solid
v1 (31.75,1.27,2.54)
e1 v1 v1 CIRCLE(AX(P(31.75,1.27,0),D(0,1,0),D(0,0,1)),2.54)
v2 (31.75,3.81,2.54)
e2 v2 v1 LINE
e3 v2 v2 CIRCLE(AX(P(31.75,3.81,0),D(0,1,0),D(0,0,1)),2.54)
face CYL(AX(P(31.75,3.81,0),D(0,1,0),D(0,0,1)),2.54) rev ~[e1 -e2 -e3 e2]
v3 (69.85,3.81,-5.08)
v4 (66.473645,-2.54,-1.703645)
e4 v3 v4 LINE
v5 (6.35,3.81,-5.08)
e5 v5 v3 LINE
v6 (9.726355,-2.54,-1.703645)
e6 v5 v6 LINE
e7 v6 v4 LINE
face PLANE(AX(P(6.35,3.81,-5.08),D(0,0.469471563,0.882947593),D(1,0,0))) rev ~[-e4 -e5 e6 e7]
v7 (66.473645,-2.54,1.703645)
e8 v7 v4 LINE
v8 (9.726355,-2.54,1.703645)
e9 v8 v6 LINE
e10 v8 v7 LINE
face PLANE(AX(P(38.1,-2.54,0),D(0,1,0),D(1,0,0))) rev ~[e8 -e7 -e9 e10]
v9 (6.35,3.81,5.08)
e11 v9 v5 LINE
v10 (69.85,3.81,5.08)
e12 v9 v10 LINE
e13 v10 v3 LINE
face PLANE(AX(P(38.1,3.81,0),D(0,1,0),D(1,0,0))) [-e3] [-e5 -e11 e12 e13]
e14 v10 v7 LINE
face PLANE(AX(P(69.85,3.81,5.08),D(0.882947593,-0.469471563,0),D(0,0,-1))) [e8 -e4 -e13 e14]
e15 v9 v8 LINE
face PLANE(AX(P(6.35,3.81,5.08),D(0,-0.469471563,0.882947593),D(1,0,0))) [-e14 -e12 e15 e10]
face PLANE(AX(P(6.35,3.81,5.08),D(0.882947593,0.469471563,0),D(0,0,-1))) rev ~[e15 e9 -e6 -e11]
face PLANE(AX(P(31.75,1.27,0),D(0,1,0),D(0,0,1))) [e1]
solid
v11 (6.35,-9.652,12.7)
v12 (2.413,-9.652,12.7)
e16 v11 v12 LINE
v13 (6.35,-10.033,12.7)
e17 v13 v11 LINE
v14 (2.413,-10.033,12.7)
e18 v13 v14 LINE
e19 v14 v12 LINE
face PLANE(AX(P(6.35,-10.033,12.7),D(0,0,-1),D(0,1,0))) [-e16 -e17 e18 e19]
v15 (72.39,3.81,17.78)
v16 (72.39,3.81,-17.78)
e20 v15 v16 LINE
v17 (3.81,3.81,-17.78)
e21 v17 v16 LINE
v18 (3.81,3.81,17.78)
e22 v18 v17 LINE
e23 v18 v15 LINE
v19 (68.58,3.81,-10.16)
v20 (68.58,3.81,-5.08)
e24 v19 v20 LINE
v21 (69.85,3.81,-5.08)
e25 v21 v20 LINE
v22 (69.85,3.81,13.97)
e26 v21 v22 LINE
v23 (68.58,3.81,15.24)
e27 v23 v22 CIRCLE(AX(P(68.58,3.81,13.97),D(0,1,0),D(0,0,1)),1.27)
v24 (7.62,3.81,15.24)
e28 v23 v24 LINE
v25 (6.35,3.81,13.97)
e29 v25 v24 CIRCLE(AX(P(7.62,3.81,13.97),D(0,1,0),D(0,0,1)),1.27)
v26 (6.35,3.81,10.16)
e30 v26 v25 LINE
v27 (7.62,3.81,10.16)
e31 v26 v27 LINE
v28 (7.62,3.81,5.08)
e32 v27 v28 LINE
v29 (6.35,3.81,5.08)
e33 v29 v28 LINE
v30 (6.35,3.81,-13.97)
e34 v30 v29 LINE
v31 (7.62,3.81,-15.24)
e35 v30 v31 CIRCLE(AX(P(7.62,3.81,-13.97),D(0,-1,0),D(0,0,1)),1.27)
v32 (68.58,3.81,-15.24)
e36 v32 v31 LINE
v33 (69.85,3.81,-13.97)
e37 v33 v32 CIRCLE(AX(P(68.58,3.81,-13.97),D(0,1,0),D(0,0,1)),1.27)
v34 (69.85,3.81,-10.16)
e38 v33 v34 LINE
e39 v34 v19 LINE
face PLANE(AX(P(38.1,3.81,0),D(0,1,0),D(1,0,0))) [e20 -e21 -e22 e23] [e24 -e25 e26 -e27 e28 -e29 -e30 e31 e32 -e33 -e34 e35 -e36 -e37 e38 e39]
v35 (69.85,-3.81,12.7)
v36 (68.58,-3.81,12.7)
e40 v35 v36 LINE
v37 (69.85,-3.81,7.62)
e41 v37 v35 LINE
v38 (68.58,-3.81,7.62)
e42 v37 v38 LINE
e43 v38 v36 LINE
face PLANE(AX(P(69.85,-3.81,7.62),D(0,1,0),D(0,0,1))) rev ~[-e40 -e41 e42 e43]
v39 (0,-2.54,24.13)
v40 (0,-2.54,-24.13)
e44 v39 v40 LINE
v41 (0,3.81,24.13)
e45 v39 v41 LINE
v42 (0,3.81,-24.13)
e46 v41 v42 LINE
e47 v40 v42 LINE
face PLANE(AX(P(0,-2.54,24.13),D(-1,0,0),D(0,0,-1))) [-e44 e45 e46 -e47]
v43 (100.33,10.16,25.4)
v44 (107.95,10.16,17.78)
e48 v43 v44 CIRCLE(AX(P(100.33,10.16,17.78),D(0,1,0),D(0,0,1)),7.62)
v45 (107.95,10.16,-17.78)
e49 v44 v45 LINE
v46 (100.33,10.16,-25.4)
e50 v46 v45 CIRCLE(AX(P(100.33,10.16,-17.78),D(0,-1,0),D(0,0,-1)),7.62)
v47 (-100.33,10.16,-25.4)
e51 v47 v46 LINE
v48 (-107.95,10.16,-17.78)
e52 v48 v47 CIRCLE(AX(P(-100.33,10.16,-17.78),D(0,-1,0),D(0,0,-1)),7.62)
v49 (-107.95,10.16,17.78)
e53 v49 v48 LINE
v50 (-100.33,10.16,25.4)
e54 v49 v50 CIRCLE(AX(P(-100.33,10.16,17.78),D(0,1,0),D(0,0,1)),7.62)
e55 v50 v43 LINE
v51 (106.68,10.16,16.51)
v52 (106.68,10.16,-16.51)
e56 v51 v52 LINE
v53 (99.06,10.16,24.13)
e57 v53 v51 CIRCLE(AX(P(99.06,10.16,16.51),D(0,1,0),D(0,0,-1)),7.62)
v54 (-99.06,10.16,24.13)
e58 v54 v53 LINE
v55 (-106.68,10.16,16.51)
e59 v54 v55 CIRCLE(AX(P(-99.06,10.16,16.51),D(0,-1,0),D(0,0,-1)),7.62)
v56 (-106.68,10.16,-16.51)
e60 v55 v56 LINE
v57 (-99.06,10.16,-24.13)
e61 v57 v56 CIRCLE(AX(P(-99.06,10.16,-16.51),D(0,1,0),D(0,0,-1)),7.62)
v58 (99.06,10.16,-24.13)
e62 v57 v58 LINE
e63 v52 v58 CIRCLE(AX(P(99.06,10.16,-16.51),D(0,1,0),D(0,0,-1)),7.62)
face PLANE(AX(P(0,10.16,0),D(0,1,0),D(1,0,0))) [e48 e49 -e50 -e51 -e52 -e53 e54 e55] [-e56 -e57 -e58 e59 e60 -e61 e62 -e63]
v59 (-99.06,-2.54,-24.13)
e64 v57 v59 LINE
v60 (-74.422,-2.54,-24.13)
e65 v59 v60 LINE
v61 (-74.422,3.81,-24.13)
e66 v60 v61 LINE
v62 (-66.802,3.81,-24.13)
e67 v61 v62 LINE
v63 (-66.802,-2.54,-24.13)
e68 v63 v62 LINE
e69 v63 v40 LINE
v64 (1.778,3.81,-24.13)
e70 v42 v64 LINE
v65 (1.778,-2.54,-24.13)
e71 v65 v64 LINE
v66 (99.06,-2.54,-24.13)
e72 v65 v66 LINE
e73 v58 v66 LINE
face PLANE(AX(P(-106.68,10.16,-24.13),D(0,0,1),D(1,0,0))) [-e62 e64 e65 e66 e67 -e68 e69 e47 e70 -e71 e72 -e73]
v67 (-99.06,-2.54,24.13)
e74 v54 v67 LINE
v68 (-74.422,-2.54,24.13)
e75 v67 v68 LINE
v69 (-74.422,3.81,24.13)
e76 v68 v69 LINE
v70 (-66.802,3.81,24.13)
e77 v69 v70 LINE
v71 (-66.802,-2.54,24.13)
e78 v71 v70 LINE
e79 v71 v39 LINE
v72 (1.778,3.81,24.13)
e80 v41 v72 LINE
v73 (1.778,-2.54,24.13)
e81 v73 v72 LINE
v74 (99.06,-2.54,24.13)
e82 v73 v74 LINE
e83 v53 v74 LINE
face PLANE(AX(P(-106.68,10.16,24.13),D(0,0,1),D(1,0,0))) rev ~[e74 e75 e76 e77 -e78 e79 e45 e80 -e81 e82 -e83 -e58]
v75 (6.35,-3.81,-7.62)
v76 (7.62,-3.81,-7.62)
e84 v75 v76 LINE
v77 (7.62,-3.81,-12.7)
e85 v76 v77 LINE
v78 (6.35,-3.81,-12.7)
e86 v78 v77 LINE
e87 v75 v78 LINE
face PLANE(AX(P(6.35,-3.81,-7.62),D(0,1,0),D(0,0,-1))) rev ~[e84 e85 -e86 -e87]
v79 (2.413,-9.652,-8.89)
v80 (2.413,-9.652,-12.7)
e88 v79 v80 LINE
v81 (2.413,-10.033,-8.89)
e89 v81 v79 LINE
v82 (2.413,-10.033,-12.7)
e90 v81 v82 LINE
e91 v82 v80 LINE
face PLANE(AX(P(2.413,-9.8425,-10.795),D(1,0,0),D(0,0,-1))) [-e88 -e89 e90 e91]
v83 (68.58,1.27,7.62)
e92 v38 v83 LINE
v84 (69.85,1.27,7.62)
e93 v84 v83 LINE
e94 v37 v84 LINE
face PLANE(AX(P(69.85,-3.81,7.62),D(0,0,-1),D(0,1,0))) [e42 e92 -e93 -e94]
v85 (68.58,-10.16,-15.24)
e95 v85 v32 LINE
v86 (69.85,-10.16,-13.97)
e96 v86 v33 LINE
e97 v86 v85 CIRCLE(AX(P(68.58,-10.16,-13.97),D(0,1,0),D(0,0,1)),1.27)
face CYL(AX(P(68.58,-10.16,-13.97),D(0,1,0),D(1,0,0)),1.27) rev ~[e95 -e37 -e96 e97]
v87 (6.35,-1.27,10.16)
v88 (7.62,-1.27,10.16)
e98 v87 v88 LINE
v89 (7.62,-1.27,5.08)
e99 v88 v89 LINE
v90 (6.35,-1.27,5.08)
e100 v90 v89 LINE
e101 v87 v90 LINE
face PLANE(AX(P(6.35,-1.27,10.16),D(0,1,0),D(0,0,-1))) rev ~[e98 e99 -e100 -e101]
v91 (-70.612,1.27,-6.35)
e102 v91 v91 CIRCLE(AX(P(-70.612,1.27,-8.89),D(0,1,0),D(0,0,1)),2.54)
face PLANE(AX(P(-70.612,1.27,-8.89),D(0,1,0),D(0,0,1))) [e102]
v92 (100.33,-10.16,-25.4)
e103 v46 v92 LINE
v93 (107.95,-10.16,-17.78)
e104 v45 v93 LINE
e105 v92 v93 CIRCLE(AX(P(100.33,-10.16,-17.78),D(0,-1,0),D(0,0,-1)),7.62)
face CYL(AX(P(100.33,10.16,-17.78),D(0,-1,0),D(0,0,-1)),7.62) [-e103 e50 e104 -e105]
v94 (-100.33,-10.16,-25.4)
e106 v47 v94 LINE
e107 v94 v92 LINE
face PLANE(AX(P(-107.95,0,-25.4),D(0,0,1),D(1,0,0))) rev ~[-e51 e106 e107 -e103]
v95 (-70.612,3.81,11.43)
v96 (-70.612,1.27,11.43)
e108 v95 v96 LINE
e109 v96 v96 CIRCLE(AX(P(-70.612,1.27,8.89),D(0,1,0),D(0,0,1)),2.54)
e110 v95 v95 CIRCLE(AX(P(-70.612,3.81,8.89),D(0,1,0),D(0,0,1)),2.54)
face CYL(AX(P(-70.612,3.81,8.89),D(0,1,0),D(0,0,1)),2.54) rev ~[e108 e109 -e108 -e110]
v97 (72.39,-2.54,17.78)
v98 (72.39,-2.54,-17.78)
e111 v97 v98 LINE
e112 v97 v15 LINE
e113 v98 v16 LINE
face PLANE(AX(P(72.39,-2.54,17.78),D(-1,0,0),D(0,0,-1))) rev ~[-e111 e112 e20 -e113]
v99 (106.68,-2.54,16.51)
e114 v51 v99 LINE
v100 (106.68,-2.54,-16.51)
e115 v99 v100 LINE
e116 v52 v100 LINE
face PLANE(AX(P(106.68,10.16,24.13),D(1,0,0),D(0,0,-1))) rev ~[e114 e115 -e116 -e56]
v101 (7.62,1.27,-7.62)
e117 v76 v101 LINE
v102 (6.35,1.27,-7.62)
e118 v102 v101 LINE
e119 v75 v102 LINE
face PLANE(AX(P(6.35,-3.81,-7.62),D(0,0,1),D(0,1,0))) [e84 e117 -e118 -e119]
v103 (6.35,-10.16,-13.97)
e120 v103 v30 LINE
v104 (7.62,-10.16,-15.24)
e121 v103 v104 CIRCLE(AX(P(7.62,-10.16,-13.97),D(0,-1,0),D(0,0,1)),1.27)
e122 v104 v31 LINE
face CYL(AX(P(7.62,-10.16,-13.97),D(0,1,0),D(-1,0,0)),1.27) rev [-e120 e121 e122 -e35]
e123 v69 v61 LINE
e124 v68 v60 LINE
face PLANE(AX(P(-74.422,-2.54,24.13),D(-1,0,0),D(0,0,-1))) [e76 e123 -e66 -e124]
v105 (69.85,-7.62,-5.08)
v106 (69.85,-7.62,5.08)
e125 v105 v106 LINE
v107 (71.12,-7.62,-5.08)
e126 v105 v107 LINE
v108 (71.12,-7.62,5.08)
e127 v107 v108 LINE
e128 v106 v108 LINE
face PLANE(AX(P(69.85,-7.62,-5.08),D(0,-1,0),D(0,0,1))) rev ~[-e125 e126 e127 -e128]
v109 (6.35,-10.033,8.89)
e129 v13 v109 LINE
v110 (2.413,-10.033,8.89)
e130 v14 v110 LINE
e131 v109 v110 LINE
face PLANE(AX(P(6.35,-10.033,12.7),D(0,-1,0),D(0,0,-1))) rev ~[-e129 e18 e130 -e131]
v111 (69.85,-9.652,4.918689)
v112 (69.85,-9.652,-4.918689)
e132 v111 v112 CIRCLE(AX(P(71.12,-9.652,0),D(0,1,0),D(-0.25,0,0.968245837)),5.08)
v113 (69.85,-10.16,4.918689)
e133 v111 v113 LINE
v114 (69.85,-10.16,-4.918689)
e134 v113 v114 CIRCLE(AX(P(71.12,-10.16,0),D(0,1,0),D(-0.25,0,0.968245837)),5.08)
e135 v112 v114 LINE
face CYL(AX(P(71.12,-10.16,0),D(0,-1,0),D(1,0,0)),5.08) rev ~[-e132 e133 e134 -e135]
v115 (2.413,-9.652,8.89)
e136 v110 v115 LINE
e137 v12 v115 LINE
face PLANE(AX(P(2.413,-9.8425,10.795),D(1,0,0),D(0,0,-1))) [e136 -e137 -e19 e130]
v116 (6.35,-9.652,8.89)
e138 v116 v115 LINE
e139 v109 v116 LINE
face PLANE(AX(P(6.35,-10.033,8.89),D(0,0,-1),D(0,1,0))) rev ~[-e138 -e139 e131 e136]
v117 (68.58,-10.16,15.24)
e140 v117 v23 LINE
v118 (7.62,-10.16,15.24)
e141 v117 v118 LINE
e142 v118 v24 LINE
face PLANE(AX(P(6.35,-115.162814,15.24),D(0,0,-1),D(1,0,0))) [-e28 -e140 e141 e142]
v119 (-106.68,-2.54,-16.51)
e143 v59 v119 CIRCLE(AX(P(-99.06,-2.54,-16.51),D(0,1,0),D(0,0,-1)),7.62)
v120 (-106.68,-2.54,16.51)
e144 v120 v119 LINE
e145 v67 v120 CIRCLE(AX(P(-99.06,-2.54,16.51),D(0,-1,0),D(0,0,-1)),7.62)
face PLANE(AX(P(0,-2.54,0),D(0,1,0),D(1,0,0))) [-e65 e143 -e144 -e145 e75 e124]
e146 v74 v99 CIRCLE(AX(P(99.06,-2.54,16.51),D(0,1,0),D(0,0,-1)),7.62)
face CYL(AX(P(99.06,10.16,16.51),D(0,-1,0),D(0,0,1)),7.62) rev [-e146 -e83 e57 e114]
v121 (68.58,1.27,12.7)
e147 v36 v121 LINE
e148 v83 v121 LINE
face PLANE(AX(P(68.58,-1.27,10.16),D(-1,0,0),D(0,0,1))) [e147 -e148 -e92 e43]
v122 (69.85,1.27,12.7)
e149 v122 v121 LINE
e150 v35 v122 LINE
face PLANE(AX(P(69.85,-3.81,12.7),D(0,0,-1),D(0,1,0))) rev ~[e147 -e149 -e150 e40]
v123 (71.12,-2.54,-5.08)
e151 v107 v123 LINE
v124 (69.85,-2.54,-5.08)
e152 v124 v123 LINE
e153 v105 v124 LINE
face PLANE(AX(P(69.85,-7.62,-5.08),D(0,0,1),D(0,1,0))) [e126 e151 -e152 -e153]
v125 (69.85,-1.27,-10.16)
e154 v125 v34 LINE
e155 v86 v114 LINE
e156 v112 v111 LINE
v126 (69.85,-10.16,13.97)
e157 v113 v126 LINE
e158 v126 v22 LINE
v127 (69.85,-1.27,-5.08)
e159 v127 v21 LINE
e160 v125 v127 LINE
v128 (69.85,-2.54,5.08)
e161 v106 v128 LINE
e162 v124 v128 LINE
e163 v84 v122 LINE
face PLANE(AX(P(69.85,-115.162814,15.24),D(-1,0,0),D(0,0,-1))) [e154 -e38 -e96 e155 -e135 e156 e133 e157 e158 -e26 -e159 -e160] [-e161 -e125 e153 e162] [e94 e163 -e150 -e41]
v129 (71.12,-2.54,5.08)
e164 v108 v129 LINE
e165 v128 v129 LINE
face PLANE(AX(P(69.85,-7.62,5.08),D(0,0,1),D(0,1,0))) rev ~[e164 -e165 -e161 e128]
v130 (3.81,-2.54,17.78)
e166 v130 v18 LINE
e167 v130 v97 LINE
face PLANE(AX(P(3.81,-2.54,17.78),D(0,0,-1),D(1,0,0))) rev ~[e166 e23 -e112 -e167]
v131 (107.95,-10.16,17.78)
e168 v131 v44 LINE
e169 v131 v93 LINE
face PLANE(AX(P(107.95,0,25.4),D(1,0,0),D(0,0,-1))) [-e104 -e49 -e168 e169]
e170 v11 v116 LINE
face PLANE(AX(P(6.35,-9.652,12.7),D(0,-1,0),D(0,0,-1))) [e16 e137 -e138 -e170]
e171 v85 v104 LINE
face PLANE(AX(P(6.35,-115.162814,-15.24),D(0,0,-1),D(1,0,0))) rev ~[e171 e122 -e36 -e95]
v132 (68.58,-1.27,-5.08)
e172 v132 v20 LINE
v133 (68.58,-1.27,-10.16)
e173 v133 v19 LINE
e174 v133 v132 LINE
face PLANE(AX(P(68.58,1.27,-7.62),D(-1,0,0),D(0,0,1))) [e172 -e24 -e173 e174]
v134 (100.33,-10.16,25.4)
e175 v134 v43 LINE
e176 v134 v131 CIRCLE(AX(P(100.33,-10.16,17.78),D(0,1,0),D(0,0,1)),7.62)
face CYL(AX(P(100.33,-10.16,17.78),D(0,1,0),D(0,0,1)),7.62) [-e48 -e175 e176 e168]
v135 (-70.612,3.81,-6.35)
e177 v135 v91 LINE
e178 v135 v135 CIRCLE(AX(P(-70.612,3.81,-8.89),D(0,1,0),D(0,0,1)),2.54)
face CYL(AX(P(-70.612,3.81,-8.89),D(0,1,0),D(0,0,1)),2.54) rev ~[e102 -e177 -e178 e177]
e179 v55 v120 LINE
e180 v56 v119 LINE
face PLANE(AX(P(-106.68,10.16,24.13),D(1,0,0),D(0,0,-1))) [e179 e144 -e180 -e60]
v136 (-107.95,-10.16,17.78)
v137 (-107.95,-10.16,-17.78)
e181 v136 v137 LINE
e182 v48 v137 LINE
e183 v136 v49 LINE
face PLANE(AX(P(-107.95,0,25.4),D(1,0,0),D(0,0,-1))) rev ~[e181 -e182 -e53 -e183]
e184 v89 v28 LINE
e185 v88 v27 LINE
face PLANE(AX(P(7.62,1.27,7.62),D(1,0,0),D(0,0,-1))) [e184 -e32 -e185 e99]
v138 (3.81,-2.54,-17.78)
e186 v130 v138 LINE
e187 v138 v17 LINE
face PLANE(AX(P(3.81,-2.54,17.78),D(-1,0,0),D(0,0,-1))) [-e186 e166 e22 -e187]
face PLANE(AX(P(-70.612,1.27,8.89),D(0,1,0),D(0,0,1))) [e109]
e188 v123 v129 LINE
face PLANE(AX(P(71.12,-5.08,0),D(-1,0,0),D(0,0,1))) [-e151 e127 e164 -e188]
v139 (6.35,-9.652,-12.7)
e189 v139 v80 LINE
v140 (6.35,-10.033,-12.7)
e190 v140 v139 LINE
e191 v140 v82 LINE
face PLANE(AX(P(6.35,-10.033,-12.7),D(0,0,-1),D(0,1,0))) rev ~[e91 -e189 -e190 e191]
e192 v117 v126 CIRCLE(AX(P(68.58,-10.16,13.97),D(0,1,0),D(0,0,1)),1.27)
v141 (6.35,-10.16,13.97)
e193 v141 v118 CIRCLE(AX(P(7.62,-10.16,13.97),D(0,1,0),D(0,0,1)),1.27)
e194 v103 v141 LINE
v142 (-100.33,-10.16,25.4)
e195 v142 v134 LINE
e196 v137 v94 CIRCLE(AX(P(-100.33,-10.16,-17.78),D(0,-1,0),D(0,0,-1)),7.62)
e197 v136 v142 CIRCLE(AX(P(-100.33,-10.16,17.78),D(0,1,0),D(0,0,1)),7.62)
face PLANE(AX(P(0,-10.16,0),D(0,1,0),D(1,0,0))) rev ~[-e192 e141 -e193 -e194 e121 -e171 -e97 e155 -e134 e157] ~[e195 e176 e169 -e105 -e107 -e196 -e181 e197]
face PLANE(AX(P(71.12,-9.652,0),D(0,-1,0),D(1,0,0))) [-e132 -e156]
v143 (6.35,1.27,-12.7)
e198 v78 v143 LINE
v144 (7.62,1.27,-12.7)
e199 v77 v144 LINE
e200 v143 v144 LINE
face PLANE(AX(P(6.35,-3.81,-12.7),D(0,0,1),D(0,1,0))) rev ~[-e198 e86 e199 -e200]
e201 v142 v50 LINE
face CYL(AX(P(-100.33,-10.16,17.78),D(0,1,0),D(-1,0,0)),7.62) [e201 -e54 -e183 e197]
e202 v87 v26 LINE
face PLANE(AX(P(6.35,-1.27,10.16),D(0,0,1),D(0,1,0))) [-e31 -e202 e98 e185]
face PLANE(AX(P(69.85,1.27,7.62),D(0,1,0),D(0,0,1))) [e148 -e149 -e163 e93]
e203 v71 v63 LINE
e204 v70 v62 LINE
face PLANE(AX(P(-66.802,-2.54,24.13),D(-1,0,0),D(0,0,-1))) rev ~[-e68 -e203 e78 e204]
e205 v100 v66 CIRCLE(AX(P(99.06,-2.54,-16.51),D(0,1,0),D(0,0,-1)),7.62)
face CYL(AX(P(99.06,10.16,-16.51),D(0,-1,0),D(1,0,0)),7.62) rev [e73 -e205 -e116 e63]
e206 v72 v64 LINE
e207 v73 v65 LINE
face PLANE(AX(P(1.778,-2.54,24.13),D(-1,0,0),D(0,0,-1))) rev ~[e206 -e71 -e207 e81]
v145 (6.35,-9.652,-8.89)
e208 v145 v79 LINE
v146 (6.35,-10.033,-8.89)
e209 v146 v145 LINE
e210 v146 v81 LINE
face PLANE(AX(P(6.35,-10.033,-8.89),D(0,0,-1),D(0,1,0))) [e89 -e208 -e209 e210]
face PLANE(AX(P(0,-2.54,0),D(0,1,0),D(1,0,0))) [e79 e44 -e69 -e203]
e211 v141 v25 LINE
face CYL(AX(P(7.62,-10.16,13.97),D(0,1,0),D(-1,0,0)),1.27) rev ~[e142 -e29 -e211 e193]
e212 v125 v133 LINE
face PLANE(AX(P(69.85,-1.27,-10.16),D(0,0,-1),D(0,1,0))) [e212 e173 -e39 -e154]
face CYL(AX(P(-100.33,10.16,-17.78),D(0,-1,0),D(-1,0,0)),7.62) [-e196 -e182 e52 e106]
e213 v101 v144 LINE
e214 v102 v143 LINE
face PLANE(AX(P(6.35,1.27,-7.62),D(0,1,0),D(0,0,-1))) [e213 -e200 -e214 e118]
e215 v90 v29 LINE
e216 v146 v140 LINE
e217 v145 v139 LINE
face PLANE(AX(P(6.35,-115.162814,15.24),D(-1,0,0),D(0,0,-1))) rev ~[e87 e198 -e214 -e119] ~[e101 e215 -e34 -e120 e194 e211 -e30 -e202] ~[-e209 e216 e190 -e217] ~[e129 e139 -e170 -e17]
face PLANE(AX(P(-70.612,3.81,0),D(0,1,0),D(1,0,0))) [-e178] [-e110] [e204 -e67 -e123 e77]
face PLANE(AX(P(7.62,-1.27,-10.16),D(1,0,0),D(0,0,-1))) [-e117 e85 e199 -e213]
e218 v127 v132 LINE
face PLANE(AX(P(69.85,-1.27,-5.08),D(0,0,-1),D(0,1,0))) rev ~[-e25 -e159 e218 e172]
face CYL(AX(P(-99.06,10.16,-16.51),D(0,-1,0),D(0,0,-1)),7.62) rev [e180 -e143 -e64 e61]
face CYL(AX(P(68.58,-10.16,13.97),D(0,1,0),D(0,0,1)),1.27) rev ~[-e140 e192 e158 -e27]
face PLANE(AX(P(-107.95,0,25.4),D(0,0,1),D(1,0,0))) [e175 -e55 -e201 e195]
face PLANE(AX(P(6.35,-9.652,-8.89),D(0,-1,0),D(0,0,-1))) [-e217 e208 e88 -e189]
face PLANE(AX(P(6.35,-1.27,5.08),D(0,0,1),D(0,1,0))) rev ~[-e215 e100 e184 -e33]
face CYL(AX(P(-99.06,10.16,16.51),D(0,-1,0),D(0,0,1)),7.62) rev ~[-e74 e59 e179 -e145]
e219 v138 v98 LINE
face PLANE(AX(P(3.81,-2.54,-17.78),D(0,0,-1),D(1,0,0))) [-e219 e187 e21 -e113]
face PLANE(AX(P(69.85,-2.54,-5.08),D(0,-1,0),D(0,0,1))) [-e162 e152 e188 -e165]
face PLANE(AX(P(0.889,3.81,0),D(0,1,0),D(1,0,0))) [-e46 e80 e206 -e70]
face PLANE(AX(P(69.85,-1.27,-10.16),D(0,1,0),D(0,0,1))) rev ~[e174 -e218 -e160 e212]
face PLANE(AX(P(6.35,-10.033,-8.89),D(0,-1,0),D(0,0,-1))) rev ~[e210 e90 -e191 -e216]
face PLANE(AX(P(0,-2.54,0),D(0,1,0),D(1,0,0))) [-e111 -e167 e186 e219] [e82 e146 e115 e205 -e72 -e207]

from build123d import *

# Parameters (mm, degrees)
SKETCH1_W               = 215.9
SKETCH1_H               = 50.8
BOSS_EXTRUDE1_DEPTH     = 10.16
SKETCH3_W               = 213.36
SKETCH3_H               = 48.26
CUT_EXTRUDE1_DEPTH      = 12.7
FILLET3_R               = 7.62
SKETCH4_W               = 7.62
SKETCH4_H               = 48.26
SKETCH4_W_2             = 1.778
BOSS_EXTRUDE2_DEPTH     = 6.35
SKETCH5_W               = 68.58
SKETCH5_H               = 35.56
BOSS_EXTRUDE3_DEPTH     = 6.35
CUT_EXTRUDE2_DEPTH      = 112.622813528
CUT_EXTRUDE2_DEPTH_BACK = 112.622813528
SKETCH9_W               = 63.5
SKETCH9_H               = 30.48
SKETCH10_W              = 63.5
SKETCH10_H              = 10.16
BOSS_EXTRUDE4_DEPTH     = 6.35
BOSS_EXTRUDE4_DRAFT     = -28
SKETCH11_W              = 5.08
SKETCH11_H              = 5.08
BOSS_EXTRUDE5_DEPTH     = 1.27
SKETCH13_W              = 5.08
SKETCH13_H              = 5.08
BOSS_EXTRUDE6_DEPTH     = 1.27
SKETCH16_W              = 10.16
SKETCH16_H              = 5.08
CUT_EXTRUDE3_DEPTH      = 1.27
FILLET4_R               = 1.27
SKETCH19_R              = 5.08
CUT_EXTRUDE5_DEPTH      = 0.508
SKETCH21_W              = 3.81
SKETCH21_H              = 0.381
CUT_EXTRUDE7_DEPTH      = 3.937
SKETCH24_R              = 2.54
CUT_EXTRUDE11_DEPTH     = 2.54
SKETCH25_R              = 2.54
CUT_EXTRUDE12_DEPTH     = 2.54


with BuildPart() as part:
    # Sketch1 → Boss-Extrude1 (new, symmetric)
    with BuildSketch(Plane(origin=(0, 0, 0), x_dir=(1, 0, 0), z_dir=(0, 1, 0))):
        Rectangle(SKETCH1_W, SKETCH1_H)
    extrude(amount=BOSS_EXTRUDE1_DEPTH, both=True)

    # Sketch3 → Cut-Extrude1 (cut)
    with BuildSketch(Plane(origin=(0, 10.16, 0), x_dir=(1, 0, 0), z_dir=(0, 1, 0))):
        Rectangle(SKETCH3_W, SKETCH3_H)
    extrude(amount=-CUT_EXTRUDE1_DEPTH, mode=Mode.SUBTRACT)

    # Fillet3
    fillet3_edges = [part.edges().sort_by_distance(p)[0] for p in [
        (106.68, 3.81, 24.13),
        (106.68, 3.81, -24.13),
        (-106.68, 3.81, 24.13),
        (-106.68, 3.81, -24.13),
        (-107.95, 0, 25.4),
        (107.95, 0, -25.4),
        (107.95, 0, 25.4),
        (-107.95, 0, -25.4),
    ]]
    fillet(fillet3_edges, radius=FILLET3_R)

    # Sketch4 → Boss-Extrude2 (add)
    with BuildSketch(Plane(origin=(0, -2.54, 0), x_dir=(1, 0, 0), z_dir=(0, 1, 0))):
        with Locations((-70.612, 0)):
            Rectangle(SKETCH4_W, SKETCH4_H)
        with Locations((0.889, 0)):
            Rectangle(SKETCH4_W_2, SKETCH4_H)
    extrude(amount=BOSS_EXTRUDE2_DEPTH)

    # Sketch5 → Boss-Extrude3 (add)
    with BuildSketch(Plane(origin=(0, -2.54, 0), x_dir=(1, 0, 0), z_dir=(0, 1, 0))):
        with Locations((38.1, 0)):
            Rectangle(SKETCH5_W, SKETCH5_H)
    extrude(amount=BOSS_EXTRUDE3_DEPTH)

    # Sketch9 → Cut-Extrude2 (cut, two sides: drawn at the far end of the back side and taken through both)
    with BuildSketch(Plane(origin=(0, -2.54, 0), x_dir=(1, 0, 0), z_dir=(0, 1, 0)).offset(-CUT_EXTRUDE2_DEPTH_BACK)):
        with Locations((38.1, 0)):
            Rectangle(SKETCH9_W, SKETCH9_H)
    extrude(amount=CUT_EXTRUDE2_DEPTH + CUT_EXTRUDE2_DEPTH_BACK, mode=Mode.SUBTRACT)

    # Sketch11 → Boss-Extrude5 (add)
    with BuildSketch(Plane(origin=(6.35, 0, 0), x_dir=(0, 0, -1), z_dir=(1, 0, 0))):
        with Locations((-7.62, 1.27)):
            Rectangle(SKETCH11_W, SKETCH11_H)
        with Locations((10.16, -1.27)):
            Rectangle(SKETCH11_W, SKETCH11_H)
    extrude(amount=BOSS_EXTRUDE5_DEPTH)

    # Sketch13 → Boss-Extrude6 (add)
    with BuildSketch(Plane.ZY.offset(-69.85)):
        with Locations((-7.62, 1.27)):
            Rectangle(SKETCH13_W, SKETCH13_H)
        with Locations((10.16, -1.27)):
            Rectangle(SKETCH13_W, SKETCH13_H)
    extrude(amount=BOSS_EXTRUDE6_DEPTH)

    # Sketch16 → Cut-Extrude3 (cut)
    with BuildSketch(Plane.ZY.offset(-69.85)):
        with Locations((0, -5.08)):
            Rectangle(SKETCH16_W, SKETCH16_H)
    extrude(amount=-CUT_EXTRUDE3_DEPTH, mode=Mode.SUBTRACT)

    # Fillet4
    fillet4_edges = [part.edges().sort_by_distance(p)[0] for p in [
        (69.85, -3.175, -15.24),
        (69.85, -3.175, 15.24),
        (6.35, -3.175, 15.24),
        (6.35, -3.175, -15.24),
    ]]
    fillet(fillet4_edges, radius=FILLET4_R)

    # Sketch19 → Cut-Extrude5 (cut)
    with BuildSketch(Plane.XZ.offset(10.16)):
        with Locations((71.12, 0)):
            Circle(SKETCH19_R)
    extrude(amount=-CUT_EXTRUDE5_DEPTH, mode=Mode.SUBTRACT)

    # Sketch21 → Cut-Extrude7 (cut)
    with BuildSketch(Plane(origin=(6.35, 0, 0), x_dir=(0, 0, -1), z_dir=(1, 0, 0))):
        with Locations((-10.795, -9.8425)):
            Rectangle(SKETCH21_W, SKETCH21_H)
        with Locations((10.795, -9.8425)):
            Rectangle(SKETCH21_W, SKETCH21_H)
    extrude(amount=-CUT_EXTRUDE7_DEPTH, mode=Mode.SUBTRACT)

    # Sketch24 → Cut-Extrude11 (cut)
    with BuildSketch(Plane(origin=(0, 3.81, 0), x_dir=(1, 0, 0), z_dir=(0, 1, 0))):
        with Locations((-70.612, -8.89)):
            Circle(SKETCH24_R)
        with Locations((-70.612, 8.89)):
            Circle(SKETCH24_R)
    extrude(amount=-CUT_EXTRUDE11_DEPTH, mode=Mode.SUBTRACT)


with BuildPart() as body_2:
    # Sketch10 → Boss-Extrude4 (with draft: the straight prism first)
    with BuildSketch(Plane(origin=(0, 3.81, 0), x_dir=(1, 0, 0), z_dir=(0, 1, 0))):
        with Locations((38.1, 0)):
            Rectangle(SKETCH10_W, SKETCH10_H)
    extrude(amount=-BOSS_EXTRUDE4_DEPTH)
    # Boss-Extrude4: the draft: its side faces are tilted about the plane it starts from
    boss_extrude4_sides = [body_2.faces().sort_by_distance(p)[0] for p in [
        (38.1, 0.635, 5.08),
        (69.85, 0.635, 0),
        (38.1, 0.635, -5.08),
        (6.35, 0.635, 0),
    ]]
    draft(boss_extrude4_sides, Plane(origin=(0, 3.81, 0), x_dir=(1, 0, 0), z_dir=(0, 1, 0)), BOSS_EXTRUDE4_DRAFT)

    # Sketch25 → Cut-Extrude12 (cut)
    with BuildSketch(Plane(origin=(0, 3.81, 0), x_dir=(1, 0, 0), z_dir=(0, 1, 0))):
        with Locations((31.75, 0)):
            Circle(SKETCH25_R)
    extrude(amount=-CUT_EXTRUDE12_DEPTH, mode=Mode.SUBTRACT)


solid = Compound([part.part, body_2.part])
